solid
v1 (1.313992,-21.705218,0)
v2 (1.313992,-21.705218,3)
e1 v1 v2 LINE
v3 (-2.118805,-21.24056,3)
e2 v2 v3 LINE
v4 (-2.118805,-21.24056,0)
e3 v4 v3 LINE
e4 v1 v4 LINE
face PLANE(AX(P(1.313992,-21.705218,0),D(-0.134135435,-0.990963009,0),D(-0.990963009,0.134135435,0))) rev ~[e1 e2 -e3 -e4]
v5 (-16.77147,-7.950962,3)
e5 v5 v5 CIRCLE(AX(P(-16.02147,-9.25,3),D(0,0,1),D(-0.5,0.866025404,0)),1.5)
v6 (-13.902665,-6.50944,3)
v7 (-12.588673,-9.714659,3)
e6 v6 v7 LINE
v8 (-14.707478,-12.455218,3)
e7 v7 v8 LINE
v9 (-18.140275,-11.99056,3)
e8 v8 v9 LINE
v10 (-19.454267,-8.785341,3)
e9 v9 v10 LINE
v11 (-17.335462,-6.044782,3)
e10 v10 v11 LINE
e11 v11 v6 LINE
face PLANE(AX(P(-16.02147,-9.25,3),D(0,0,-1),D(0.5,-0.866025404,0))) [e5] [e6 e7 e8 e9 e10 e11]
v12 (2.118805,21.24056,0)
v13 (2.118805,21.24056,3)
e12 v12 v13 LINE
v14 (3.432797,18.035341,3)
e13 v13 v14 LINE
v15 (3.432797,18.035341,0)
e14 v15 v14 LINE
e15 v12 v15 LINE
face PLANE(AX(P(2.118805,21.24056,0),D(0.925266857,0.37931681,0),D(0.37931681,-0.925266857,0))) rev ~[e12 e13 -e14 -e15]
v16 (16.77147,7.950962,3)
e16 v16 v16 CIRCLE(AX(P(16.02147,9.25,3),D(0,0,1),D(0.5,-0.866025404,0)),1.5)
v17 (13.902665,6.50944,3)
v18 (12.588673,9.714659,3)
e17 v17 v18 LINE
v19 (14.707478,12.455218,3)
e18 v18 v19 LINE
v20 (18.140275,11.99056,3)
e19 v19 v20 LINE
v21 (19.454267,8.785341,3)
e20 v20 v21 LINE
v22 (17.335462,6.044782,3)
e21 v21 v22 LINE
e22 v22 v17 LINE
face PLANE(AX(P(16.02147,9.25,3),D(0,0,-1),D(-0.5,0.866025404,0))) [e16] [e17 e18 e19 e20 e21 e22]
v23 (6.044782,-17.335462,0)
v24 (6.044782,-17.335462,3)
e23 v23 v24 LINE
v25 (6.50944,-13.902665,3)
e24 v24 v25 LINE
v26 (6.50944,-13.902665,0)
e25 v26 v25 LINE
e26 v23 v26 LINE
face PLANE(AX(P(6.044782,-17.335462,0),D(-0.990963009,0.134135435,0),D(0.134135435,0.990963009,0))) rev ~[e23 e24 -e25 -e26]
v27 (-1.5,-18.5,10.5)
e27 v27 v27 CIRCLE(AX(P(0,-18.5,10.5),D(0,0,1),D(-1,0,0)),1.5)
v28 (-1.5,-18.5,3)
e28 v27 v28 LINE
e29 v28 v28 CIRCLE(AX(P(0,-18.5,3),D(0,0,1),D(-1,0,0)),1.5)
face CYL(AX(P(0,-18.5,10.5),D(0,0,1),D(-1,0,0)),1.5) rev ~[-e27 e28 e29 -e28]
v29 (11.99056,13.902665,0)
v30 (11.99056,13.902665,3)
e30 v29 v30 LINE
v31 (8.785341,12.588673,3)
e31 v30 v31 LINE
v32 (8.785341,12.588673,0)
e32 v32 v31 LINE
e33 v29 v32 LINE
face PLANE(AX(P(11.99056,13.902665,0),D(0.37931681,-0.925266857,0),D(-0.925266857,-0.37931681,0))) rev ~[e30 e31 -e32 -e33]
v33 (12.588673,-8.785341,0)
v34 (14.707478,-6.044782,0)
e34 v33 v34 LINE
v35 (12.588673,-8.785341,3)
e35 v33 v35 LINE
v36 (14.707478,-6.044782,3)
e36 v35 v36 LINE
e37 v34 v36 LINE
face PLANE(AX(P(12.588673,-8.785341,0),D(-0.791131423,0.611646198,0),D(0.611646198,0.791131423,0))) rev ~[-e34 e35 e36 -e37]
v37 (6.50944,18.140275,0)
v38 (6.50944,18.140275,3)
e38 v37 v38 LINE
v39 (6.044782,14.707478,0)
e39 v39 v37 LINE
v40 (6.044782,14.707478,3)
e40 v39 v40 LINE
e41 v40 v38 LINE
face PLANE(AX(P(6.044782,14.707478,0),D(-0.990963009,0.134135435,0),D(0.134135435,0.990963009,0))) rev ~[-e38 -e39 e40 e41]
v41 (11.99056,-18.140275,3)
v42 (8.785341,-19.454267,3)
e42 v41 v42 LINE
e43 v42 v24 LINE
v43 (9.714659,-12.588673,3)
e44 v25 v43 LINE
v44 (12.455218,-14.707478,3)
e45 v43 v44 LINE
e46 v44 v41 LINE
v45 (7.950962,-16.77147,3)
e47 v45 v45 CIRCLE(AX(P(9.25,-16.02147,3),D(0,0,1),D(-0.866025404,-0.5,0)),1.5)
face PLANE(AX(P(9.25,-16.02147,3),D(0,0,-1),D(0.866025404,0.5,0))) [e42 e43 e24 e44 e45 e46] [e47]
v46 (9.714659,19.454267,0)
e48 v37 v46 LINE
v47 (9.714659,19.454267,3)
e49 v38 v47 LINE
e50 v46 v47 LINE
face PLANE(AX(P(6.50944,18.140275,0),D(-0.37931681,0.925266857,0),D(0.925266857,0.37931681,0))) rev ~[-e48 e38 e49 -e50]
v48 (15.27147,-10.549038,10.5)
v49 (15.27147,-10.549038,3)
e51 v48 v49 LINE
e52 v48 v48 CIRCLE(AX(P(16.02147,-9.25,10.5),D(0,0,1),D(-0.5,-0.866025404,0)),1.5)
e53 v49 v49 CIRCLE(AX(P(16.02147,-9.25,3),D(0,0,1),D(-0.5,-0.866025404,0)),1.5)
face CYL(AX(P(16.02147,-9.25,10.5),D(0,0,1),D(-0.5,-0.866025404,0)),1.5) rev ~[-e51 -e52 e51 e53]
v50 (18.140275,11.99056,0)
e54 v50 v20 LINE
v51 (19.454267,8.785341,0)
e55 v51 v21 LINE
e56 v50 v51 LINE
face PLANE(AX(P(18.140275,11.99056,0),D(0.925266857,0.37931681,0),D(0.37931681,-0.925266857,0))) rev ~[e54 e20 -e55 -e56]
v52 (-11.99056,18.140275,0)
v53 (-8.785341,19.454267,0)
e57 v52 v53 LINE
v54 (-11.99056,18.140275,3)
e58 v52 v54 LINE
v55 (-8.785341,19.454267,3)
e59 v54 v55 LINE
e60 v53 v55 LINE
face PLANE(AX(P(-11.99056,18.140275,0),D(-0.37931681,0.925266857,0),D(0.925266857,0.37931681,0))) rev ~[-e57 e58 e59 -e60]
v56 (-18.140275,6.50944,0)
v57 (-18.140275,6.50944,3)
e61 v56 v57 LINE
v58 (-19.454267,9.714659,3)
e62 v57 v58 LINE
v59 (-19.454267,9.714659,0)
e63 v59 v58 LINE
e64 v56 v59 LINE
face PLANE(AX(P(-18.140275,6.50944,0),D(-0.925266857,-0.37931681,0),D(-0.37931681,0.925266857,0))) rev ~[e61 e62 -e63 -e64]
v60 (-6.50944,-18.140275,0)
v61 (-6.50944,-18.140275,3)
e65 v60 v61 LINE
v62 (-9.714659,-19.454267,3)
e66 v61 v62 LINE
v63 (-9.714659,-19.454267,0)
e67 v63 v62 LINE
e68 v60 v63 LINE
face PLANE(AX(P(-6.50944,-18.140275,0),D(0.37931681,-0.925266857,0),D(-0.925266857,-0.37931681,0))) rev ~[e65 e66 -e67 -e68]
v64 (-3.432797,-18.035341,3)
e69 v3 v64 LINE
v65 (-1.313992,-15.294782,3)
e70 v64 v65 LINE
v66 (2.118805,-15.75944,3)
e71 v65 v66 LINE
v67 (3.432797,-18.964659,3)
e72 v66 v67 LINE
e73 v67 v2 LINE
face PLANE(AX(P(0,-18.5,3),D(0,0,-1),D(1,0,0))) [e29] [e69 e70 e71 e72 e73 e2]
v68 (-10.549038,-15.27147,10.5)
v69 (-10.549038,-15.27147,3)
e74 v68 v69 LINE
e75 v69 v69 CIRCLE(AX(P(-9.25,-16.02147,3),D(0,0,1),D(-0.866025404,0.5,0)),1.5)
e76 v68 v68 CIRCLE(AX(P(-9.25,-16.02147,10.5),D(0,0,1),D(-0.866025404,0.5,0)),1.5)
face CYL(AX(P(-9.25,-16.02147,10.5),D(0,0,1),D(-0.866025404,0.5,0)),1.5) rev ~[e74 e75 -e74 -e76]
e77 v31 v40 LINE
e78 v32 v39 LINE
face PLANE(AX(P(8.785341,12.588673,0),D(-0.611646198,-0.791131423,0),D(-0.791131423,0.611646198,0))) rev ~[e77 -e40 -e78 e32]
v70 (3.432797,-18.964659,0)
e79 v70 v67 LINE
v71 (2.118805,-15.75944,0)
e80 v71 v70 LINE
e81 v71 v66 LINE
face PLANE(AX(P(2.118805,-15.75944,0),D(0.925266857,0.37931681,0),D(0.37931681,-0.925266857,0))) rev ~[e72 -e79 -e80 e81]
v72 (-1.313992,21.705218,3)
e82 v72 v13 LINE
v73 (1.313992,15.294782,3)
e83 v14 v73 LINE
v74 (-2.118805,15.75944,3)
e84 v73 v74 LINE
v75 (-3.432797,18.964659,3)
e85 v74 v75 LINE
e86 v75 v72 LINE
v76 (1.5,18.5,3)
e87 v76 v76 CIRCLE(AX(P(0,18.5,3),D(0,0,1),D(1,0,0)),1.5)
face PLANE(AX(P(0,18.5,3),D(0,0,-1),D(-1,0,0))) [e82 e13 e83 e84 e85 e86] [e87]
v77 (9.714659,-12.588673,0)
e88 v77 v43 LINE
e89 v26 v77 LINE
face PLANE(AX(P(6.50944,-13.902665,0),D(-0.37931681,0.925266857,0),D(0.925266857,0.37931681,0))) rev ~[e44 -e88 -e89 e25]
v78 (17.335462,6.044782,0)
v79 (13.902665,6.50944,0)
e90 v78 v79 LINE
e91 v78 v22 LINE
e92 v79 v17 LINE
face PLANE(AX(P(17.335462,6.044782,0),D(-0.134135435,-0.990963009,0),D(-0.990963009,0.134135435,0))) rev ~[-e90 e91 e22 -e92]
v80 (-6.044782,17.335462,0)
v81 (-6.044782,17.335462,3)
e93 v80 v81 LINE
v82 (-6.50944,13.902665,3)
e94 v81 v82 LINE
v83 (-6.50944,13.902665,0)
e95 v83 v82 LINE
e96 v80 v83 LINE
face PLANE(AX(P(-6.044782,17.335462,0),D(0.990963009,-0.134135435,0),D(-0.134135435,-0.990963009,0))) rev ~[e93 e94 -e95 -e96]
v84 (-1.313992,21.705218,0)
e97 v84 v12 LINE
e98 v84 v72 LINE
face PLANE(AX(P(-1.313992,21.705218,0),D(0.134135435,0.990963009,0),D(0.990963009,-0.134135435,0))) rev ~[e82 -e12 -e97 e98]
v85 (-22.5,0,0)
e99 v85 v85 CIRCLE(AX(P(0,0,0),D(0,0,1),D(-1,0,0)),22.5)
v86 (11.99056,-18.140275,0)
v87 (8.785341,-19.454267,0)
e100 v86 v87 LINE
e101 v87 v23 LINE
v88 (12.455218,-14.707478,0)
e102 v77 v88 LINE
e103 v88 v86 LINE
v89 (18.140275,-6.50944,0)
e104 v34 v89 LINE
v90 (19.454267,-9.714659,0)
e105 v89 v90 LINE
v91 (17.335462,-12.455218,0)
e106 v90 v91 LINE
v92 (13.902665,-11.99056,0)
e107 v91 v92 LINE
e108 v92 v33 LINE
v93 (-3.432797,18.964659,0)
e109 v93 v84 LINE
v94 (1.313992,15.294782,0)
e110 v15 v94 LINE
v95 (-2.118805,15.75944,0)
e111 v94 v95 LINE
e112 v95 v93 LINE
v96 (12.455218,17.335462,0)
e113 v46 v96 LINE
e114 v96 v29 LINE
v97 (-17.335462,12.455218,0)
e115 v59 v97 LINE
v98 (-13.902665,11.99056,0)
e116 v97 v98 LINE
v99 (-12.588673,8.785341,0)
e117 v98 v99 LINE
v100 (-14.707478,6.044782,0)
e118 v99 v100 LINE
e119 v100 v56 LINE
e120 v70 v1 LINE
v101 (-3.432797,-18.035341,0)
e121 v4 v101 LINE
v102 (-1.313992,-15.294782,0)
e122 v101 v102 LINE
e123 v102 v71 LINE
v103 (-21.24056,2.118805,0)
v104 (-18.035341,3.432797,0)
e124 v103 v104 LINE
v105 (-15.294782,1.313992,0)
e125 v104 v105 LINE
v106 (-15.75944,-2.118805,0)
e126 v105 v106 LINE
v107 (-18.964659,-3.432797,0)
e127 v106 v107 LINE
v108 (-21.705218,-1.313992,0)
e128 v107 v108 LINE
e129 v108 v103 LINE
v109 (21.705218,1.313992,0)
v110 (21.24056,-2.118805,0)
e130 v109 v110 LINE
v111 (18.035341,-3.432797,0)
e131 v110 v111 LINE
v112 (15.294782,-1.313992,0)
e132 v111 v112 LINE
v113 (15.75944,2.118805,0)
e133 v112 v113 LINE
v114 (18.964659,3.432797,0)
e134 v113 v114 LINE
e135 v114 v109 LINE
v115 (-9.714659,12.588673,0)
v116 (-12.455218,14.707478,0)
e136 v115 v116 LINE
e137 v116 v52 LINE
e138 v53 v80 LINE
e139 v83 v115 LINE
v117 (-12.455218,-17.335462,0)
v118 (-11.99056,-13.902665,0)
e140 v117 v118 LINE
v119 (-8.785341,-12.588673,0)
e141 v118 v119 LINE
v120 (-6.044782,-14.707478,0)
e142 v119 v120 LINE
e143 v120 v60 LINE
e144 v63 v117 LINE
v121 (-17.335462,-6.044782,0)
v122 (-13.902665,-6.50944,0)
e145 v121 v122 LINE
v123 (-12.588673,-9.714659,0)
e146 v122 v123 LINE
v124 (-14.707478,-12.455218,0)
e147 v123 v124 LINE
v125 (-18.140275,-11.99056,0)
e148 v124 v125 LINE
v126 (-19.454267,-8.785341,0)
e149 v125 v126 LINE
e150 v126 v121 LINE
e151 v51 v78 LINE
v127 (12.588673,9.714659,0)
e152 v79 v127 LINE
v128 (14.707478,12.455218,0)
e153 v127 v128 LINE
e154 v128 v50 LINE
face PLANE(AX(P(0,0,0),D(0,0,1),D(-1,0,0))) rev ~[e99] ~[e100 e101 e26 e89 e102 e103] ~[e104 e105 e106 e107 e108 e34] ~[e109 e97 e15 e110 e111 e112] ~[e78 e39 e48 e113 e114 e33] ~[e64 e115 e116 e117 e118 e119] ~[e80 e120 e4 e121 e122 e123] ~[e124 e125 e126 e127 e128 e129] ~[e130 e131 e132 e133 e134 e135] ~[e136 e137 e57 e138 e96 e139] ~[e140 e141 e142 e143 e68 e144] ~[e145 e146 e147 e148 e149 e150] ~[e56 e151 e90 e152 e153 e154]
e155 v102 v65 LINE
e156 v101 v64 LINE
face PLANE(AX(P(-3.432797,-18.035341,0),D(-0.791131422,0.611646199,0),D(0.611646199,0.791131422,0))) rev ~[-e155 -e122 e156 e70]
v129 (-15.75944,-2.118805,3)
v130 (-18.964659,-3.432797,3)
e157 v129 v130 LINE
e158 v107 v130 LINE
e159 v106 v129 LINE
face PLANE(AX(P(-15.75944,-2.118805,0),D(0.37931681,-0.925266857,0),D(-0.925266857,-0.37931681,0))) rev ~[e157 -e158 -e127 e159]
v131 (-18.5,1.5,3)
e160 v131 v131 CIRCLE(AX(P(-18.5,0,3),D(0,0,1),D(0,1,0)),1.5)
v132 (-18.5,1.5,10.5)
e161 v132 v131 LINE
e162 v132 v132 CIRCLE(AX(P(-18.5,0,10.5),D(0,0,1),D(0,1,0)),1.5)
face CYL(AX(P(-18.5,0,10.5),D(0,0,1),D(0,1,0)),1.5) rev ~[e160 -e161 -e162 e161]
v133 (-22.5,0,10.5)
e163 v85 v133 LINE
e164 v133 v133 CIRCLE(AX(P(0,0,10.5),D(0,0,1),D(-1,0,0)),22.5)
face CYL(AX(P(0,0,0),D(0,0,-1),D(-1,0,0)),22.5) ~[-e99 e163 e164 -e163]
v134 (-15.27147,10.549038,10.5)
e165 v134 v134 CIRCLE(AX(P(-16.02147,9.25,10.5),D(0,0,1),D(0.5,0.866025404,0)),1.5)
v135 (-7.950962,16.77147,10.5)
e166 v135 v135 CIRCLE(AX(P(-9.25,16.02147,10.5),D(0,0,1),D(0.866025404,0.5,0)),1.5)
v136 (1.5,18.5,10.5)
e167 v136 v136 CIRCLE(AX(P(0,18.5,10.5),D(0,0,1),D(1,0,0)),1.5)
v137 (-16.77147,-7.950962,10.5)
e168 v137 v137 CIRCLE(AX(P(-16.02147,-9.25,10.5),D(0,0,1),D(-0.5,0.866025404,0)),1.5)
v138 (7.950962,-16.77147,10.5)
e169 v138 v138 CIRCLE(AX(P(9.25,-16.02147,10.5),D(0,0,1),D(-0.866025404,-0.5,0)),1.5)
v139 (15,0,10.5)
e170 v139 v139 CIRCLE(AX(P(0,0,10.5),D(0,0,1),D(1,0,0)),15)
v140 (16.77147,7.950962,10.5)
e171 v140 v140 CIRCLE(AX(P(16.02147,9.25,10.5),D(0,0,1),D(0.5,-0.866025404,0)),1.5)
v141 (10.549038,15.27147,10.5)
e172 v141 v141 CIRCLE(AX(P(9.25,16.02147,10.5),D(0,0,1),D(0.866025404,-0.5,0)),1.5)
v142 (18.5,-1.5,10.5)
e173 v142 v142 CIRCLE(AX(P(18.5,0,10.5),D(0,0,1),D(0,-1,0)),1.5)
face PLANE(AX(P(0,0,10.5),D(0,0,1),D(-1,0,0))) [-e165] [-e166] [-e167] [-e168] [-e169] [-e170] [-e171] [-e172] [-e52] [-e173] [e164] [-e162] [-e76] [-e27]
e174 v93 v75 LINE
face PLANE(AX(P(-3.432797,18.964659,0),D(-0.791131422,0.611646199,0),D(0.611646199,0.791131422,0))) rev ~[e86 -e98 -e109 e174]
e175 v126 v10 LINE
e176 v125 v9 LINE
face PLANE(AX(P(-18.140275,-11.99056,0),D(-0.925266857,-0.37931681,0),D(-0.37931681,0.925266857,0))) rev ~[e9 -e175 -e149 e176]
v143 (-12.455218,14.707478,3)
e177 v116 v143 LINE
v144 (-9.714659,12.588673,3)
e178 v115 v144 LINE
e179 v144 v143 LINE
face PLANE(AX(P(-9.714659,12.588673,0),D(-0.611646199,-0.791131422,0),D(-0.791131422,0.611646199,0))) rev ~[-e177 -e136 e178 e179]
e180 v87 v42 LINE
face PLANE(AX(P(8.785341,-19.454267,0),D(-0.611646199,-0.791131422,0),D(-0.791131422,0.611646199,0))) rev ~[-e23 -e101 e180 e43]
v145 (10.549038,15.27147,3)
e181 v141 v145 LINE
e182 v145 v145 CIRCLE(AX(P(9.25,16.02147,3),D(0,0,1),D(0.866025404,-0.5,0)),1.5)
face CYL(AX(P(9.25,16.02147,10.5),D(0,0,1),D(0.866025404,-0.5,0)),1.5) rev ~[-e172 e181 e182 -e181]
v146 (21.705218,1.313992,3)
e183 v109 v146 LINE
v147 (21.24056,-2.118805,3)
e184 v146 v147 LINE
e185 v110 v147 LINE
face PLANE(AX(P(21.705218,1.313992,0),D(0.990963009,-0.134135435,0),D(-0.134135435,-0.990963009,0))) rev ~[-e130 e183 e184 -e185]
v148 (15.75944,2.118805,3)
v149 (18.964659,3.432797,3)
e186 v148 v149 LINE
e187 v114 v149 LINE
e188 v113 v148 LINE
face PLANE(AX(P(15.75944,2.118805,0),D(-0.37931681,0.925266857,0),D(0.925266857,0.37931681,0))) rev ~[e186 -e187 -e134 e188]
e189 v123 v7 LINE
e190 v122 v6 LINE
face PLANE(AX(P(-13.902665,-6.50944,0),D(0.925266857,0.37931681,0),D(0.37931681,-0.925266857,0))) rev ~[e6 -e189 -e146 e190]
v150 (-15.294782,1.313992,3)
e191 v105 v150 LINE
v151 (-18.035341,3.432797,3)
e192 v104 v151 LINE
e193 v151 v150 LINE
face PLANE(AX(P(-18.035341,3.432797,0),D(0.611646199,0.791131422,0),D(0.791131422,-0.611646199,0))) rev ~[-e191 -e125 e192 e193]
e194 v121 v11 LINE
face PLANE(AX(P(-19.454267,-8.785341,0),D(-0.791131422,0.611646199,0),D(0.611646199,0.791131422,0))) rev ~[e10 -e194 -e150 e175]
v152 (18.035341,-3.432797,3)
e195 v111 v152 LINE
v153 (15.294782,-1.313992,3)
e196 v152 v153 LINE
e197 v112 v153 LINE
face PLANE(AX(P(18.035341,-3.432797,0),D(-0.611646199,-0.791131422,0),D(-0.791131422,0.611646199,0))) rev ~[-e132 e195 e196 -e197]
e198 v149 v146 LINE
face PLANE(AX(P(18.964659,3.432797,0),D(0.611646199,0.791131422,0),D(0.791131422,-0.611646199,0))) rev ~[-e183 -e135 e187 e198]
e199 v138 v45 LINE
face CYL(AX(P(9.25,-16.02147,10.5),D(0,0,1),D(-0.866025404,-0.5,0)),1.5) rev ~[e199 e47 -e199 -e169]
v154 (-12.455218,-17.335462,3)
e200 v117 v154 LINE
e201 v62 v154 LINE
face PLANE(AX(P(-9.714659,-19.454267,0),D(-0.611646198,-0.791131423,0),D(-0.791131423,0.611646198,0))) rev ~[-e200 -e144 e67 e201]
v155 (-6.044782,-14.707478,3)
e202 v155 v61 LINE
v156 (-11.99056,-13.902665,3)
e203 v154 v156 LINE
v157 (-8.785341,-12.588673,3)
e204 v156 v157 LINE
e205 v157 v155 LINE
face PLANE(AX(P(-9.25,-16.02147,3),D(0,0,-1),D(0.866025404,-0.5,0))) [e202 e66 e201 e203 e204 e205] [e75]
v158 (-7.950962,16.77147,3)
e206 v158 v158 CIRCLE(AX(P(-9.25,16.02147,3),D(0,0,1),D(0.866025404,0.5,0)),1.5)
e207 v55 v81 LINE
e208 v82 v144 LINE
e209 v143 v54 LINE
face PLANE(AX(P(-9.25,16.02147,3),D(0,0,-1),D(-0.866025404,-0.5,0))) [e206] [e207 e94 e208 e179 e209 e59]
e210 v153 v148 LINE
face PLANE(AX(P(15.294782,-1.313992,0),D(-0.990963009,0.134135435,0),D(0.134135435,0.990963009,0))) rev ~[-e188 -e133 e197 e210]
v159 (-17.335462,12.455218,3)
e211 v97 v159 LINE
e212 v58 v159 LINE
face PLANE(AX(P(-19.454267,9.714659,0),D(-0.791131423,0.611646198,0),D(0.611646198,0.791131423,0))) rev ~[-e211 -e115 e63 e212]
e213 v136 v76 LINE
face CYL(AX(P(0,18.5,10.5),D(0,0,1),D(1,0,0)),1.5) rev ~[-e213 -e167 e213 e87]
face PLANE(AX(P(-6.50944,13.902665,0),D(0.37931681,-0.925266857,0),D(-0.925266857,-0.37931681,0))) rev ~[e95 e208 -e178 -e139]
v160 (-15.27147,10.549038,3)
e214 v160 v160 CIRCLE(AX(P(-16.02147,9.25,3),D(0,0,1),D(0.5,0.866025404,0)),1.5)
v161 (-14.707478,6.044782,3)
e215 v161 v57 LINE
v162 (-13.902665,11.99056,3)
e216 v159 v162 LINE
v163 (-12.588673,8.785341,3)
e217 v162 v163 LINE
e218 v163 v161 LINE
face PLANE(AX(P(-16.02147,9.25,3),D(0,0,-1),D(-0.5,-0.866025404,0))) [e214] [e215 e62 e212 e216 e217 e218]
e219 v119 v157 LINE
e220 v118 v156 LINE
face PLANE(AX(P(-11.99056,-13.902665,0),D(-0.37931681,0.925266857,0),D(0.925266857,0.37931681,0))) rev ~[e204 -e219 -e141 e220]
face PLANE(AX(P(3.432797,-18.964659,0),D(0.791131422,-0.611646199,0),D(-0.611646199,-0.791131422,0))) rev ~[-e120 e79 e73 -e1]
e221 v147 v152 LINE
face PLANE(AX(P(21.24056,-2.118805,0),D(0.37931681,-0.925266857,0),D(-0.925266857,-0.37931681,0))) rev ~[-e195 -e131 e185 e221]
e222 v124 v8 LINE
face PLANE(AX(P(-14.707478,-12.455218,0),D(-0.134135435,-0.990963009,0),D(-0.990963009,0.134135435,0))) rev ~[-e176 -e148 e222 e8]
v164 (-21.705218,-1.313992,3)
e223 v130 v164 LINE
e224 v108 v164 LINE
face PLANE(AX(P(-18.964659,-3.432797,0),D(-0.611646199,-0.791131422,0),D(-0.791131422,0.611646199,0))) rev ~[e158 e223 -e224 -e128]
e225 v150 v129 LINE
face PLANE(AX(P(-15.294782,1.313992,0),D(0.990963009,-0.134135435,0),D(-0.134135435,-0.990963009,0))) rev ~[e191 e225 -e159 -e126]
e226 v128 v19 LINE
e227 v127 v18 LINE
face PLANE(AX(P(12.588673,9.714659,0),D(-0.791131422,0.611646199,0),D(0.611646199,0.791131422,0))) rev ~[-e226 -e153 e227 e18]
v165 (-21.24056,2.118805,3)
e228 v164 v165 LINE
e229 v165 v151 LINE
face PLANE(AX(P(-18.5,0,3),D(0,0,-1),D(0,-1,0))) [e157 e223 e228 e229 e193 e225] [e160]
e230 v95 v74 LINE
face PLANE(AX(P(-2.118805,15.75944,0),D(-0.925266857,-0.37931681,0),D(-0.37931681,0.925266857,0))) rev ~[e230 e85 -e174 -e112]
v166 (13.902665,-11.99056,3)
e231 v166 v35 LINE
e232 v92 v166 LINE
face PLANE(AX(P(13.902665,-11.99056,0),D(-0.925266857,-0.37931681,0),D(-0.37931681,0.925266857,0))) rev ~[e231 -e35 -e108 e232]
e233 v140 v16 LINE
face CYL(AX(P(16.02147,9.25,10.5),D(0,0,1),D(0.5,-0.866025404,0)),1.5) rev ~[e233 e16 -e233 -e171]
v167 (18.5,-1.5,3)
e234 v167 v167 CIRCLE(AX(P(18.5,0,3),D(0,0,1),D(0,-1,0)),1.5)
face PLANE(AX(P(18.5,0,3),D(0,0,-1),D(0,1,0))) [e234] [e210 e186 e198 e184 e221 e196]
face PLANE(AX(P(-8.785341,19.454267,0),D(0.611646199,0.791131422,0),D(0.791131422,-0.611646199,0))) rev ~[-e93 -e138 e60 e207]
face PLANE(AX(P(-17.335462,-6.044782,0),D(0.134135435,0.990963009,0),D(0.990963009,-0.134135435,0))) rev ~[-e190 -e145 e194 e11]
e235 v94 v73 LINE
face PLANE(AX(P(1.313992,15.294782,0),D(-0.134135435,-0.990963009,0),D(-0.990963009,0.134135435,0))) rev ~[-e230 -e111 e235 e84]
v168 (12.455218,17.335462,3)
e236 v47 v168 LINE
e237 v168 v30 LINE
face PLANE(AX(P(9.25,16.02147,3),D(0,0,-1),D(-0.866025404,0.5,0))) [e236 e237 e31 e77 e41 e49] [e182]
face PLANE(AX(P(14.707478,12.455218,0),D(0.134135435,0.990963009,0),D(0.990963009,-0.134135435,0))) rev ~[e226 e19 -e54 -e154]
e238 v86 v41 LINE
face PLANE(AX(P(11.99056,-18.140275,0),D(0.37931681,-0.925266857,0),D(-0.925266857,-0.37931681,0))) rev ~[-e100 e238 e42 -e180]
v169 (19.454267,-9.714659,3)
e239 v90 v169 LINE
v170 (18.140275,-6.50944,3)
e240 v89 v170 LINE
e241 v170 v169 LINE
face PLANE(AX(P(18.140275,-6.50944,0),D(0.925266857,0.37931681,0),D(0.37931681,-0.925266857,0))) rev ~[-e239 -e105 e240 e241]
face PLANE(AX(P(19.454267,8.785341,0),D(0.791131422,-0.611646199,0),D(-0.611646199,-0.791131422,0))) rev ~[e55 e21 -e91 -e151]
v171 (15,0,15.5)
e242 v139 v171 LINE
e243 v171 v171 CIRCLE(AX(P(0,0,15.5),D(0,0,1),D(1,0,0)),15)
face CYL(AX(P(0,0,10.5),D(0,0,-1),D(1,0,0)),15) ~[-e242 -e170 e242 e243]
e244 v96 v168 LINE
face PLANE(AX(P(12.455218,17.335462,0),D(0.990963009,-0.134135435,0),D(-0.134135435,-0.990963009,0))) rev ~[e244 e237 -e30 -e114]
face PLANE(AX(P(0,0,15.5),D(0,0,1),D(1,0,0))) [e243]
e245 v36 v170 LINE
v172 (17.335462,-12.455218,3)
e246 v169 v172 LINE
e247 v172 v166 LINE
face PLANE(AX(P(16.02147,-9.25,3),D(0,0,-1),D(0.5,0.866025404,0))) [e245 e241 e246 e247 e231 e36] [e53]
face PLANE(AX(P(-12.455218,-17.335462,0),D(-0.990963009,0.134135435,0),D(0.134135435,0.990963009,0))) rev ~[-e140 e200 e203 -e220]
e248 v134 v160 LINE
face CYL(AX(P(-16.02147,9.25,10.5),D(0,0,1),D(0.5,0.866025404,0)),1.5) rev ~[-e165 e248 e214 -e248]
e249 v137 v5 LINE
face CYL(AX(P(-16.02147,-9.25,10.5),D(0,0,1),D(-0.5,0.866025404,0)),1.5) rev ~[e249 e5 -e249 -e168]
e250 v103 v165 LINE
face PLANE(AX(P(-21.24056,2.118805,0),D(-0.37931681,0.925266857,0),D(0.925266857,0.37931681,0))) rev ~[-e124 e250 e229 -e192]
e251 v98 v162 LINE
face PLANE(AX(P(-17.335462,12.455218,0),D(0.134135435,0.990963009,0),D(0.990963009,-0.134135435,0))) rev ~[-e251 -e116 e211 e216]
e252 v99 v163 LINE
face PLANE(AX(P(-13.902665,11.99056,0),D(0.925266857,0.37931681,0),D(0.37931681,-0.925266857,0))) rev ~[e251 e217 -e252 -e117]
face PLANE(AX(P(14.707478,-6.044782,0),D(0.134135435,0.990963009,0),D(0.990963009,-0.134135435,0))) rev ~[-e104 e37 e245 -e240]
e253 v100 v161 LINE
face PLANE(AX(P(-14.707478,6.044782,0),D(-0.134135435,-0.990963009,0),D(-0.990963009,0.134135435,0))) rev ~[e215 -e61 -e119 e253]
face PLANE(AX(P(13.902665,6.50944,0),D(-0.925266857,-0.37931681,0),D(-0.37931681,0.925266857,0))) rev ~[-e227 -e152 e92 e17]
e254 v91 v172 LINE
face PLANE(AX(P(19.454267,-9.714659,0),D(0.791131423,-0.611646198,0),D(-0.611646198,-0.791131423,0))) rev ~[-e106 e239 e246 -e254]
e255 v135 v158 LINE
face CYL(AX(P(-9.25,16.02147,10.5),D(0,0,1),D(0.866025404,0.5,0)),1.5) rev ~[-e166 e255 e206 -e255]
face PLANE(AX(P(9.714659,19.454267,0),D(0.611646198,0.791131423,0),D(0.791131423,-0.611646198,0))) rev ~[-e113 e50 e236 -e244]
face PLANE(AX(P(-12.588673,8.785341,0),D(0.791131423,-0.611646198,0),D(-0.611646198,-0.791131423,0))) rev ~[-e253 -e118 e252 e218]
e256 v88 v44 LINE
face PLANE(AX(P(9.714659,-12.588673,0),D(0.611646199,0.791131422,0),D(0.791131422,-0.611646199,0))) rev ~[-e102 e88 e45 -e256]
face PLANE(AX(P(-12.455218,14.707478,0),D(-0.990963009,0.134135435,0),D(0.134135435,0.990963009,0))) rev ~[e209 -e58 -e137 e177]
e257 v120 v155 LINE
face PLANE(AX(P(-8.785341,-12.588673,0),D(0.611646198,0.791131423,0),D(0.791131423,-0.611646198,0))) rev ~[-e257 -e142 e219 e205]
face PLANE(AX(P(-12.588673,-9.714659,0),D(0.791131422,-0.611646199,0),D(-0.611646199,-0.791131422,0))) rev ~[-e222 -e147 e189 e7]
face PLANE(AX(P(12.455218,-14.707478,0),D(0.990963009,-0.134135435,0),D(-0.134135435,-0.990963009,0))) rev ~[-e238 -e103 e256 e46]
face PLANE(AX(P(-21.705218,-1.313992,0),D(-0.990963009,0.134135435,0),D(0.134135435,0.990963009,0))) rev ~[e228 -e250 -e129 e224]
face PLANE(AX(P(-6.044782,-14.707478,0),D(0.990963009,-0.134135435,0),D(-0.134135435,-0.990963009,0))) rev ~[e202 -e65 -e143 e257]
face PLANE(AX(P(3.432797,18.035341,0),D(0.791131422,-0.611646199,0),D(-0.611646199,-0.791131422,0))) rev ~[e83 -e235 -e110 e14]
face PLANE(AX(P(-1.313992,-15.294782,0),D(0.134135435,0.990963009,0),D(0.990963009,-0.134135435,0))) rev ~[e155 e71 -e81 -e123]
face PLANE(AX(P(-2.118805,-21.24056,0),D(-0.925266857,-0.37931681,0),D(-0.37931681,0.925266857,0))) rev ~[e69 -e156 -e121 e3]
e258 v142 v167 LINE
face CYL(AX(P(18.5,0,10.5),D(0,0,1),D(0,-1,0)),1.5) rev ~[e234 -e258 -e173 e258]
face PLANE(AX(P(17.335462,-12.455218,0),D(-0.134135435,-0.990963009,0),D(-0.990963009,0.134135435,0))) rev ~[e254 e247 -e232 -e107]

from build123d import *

# Parameters (mm, degrees)
SKETCH_1_R               = 22.5
EXTRUDE_1_DEPTH          = 10.5
SKETCH_2_R               = 15
EXTRUDE_2_DEPTH          = 5
SKETCH_3_R               = 1.5
CUT_EXTRUDE_1_DEPTH      = 5
SKETCH_5_R               = 1.5
CUT_EXTRUDE_2_DEPTH      = 34.507461856
CUT_EXTRUDE_6_DEPTH      = 3
PATTERN_CIRCULAR_1_COUNT = 12


with BuildPart() as part:
    # 草图1 → 凸台-拉伸1 (new body)
    with BuildSketch(Plane.XY):
        with Locations(Location((0, 0, 0), (0, 0, 180))):
            Circle(SKETCH_1_R)
    extrude(amount=EXTRUDE_1_DEPTH)

    # 草图2 → 凸台-拉伸2 (add)
    with BuildSketch(Plane.XY.offset(10.5)):
        Circle(SKETCH_2_R)
    extrude(amount=EXTRUDE_2_DEPTH)

    # 草图3 → 切除-拉伸1 (cut)
    with BuildSketch(Plane.XY.offset(10.5)):
        with Locations((0, 18.5)):
            Circle(SKETCH_3_R)
    cut_extrude_1 = extrude(amount=-CUT_EXTRUDE_1_DEPTH, mode=Mode.SUBTRACT)

    # 草图5 → 切除-拉伸2 (cut, through all)
    with BuildSketch(Plane.XY.offset(10.5)):
        with Locations((0, 18.5)):
            Circle(SKETCH_5_R)
    cut_extrude_2 = extrude(amount=-CUT_EXTRUDE_2_DEPTH, mode=Mode.SUBTRACT)

    # 草图9 → 切除-拉伸6 (cut)
    with BuildSketch(Plane(origin=(0, 0, 0), x_dir=(-1, 0, 0), z_dir=(0, 0, -1))):
        Polygon((1.313991975, 21.705218415), (-2.118804585, 21.240559639), (-3.43279656, 18.035341223), (-1.313991975, 15.294781585), (2.118804585, 15.759440361), (3.43279656, 18.964658777), align=None)
    cut_extrude_6 = extrude(amount=-CUT_EXTRUDE_6_DEPTH, mode=Mode.SUBTRACT)

    # 阵列(圆周)1: 切除-拉伸1, 切除-拉伸2, 切除-拉伸6 ×12 about axis
    pattern_circular_1_axis = Axis((0, 0, 0), (0, 0, 1))
    add([cut_extrude_1.rotate(pattern_circular_1_axis, i * 360 / PATTERN_CIRCULAR_1_COUNT) for i in range(1, PATTERN_CIRCULAR_1_COUNT)], mode=Mode.SUBTRACT)
    add([cut_extrude_2.rotate(pattern_circular_1_axis, i * 360 / PATTERN_CIRCULAR_1_COUNT) for i in range(1, PATTERN_CIRCULAR_1_COUNT)], mode=Mode.SUBTRACT)
    add([cut_extrude_6.rotate(pattern_circular_1_axis, i * 360 / PATTERN_CIRCULAR_1_COUNT) for i in range(1, PATTERN_CIRCULAR_1_COUNT)], mode=Mode.SUBTRACT)


solid = part.part
